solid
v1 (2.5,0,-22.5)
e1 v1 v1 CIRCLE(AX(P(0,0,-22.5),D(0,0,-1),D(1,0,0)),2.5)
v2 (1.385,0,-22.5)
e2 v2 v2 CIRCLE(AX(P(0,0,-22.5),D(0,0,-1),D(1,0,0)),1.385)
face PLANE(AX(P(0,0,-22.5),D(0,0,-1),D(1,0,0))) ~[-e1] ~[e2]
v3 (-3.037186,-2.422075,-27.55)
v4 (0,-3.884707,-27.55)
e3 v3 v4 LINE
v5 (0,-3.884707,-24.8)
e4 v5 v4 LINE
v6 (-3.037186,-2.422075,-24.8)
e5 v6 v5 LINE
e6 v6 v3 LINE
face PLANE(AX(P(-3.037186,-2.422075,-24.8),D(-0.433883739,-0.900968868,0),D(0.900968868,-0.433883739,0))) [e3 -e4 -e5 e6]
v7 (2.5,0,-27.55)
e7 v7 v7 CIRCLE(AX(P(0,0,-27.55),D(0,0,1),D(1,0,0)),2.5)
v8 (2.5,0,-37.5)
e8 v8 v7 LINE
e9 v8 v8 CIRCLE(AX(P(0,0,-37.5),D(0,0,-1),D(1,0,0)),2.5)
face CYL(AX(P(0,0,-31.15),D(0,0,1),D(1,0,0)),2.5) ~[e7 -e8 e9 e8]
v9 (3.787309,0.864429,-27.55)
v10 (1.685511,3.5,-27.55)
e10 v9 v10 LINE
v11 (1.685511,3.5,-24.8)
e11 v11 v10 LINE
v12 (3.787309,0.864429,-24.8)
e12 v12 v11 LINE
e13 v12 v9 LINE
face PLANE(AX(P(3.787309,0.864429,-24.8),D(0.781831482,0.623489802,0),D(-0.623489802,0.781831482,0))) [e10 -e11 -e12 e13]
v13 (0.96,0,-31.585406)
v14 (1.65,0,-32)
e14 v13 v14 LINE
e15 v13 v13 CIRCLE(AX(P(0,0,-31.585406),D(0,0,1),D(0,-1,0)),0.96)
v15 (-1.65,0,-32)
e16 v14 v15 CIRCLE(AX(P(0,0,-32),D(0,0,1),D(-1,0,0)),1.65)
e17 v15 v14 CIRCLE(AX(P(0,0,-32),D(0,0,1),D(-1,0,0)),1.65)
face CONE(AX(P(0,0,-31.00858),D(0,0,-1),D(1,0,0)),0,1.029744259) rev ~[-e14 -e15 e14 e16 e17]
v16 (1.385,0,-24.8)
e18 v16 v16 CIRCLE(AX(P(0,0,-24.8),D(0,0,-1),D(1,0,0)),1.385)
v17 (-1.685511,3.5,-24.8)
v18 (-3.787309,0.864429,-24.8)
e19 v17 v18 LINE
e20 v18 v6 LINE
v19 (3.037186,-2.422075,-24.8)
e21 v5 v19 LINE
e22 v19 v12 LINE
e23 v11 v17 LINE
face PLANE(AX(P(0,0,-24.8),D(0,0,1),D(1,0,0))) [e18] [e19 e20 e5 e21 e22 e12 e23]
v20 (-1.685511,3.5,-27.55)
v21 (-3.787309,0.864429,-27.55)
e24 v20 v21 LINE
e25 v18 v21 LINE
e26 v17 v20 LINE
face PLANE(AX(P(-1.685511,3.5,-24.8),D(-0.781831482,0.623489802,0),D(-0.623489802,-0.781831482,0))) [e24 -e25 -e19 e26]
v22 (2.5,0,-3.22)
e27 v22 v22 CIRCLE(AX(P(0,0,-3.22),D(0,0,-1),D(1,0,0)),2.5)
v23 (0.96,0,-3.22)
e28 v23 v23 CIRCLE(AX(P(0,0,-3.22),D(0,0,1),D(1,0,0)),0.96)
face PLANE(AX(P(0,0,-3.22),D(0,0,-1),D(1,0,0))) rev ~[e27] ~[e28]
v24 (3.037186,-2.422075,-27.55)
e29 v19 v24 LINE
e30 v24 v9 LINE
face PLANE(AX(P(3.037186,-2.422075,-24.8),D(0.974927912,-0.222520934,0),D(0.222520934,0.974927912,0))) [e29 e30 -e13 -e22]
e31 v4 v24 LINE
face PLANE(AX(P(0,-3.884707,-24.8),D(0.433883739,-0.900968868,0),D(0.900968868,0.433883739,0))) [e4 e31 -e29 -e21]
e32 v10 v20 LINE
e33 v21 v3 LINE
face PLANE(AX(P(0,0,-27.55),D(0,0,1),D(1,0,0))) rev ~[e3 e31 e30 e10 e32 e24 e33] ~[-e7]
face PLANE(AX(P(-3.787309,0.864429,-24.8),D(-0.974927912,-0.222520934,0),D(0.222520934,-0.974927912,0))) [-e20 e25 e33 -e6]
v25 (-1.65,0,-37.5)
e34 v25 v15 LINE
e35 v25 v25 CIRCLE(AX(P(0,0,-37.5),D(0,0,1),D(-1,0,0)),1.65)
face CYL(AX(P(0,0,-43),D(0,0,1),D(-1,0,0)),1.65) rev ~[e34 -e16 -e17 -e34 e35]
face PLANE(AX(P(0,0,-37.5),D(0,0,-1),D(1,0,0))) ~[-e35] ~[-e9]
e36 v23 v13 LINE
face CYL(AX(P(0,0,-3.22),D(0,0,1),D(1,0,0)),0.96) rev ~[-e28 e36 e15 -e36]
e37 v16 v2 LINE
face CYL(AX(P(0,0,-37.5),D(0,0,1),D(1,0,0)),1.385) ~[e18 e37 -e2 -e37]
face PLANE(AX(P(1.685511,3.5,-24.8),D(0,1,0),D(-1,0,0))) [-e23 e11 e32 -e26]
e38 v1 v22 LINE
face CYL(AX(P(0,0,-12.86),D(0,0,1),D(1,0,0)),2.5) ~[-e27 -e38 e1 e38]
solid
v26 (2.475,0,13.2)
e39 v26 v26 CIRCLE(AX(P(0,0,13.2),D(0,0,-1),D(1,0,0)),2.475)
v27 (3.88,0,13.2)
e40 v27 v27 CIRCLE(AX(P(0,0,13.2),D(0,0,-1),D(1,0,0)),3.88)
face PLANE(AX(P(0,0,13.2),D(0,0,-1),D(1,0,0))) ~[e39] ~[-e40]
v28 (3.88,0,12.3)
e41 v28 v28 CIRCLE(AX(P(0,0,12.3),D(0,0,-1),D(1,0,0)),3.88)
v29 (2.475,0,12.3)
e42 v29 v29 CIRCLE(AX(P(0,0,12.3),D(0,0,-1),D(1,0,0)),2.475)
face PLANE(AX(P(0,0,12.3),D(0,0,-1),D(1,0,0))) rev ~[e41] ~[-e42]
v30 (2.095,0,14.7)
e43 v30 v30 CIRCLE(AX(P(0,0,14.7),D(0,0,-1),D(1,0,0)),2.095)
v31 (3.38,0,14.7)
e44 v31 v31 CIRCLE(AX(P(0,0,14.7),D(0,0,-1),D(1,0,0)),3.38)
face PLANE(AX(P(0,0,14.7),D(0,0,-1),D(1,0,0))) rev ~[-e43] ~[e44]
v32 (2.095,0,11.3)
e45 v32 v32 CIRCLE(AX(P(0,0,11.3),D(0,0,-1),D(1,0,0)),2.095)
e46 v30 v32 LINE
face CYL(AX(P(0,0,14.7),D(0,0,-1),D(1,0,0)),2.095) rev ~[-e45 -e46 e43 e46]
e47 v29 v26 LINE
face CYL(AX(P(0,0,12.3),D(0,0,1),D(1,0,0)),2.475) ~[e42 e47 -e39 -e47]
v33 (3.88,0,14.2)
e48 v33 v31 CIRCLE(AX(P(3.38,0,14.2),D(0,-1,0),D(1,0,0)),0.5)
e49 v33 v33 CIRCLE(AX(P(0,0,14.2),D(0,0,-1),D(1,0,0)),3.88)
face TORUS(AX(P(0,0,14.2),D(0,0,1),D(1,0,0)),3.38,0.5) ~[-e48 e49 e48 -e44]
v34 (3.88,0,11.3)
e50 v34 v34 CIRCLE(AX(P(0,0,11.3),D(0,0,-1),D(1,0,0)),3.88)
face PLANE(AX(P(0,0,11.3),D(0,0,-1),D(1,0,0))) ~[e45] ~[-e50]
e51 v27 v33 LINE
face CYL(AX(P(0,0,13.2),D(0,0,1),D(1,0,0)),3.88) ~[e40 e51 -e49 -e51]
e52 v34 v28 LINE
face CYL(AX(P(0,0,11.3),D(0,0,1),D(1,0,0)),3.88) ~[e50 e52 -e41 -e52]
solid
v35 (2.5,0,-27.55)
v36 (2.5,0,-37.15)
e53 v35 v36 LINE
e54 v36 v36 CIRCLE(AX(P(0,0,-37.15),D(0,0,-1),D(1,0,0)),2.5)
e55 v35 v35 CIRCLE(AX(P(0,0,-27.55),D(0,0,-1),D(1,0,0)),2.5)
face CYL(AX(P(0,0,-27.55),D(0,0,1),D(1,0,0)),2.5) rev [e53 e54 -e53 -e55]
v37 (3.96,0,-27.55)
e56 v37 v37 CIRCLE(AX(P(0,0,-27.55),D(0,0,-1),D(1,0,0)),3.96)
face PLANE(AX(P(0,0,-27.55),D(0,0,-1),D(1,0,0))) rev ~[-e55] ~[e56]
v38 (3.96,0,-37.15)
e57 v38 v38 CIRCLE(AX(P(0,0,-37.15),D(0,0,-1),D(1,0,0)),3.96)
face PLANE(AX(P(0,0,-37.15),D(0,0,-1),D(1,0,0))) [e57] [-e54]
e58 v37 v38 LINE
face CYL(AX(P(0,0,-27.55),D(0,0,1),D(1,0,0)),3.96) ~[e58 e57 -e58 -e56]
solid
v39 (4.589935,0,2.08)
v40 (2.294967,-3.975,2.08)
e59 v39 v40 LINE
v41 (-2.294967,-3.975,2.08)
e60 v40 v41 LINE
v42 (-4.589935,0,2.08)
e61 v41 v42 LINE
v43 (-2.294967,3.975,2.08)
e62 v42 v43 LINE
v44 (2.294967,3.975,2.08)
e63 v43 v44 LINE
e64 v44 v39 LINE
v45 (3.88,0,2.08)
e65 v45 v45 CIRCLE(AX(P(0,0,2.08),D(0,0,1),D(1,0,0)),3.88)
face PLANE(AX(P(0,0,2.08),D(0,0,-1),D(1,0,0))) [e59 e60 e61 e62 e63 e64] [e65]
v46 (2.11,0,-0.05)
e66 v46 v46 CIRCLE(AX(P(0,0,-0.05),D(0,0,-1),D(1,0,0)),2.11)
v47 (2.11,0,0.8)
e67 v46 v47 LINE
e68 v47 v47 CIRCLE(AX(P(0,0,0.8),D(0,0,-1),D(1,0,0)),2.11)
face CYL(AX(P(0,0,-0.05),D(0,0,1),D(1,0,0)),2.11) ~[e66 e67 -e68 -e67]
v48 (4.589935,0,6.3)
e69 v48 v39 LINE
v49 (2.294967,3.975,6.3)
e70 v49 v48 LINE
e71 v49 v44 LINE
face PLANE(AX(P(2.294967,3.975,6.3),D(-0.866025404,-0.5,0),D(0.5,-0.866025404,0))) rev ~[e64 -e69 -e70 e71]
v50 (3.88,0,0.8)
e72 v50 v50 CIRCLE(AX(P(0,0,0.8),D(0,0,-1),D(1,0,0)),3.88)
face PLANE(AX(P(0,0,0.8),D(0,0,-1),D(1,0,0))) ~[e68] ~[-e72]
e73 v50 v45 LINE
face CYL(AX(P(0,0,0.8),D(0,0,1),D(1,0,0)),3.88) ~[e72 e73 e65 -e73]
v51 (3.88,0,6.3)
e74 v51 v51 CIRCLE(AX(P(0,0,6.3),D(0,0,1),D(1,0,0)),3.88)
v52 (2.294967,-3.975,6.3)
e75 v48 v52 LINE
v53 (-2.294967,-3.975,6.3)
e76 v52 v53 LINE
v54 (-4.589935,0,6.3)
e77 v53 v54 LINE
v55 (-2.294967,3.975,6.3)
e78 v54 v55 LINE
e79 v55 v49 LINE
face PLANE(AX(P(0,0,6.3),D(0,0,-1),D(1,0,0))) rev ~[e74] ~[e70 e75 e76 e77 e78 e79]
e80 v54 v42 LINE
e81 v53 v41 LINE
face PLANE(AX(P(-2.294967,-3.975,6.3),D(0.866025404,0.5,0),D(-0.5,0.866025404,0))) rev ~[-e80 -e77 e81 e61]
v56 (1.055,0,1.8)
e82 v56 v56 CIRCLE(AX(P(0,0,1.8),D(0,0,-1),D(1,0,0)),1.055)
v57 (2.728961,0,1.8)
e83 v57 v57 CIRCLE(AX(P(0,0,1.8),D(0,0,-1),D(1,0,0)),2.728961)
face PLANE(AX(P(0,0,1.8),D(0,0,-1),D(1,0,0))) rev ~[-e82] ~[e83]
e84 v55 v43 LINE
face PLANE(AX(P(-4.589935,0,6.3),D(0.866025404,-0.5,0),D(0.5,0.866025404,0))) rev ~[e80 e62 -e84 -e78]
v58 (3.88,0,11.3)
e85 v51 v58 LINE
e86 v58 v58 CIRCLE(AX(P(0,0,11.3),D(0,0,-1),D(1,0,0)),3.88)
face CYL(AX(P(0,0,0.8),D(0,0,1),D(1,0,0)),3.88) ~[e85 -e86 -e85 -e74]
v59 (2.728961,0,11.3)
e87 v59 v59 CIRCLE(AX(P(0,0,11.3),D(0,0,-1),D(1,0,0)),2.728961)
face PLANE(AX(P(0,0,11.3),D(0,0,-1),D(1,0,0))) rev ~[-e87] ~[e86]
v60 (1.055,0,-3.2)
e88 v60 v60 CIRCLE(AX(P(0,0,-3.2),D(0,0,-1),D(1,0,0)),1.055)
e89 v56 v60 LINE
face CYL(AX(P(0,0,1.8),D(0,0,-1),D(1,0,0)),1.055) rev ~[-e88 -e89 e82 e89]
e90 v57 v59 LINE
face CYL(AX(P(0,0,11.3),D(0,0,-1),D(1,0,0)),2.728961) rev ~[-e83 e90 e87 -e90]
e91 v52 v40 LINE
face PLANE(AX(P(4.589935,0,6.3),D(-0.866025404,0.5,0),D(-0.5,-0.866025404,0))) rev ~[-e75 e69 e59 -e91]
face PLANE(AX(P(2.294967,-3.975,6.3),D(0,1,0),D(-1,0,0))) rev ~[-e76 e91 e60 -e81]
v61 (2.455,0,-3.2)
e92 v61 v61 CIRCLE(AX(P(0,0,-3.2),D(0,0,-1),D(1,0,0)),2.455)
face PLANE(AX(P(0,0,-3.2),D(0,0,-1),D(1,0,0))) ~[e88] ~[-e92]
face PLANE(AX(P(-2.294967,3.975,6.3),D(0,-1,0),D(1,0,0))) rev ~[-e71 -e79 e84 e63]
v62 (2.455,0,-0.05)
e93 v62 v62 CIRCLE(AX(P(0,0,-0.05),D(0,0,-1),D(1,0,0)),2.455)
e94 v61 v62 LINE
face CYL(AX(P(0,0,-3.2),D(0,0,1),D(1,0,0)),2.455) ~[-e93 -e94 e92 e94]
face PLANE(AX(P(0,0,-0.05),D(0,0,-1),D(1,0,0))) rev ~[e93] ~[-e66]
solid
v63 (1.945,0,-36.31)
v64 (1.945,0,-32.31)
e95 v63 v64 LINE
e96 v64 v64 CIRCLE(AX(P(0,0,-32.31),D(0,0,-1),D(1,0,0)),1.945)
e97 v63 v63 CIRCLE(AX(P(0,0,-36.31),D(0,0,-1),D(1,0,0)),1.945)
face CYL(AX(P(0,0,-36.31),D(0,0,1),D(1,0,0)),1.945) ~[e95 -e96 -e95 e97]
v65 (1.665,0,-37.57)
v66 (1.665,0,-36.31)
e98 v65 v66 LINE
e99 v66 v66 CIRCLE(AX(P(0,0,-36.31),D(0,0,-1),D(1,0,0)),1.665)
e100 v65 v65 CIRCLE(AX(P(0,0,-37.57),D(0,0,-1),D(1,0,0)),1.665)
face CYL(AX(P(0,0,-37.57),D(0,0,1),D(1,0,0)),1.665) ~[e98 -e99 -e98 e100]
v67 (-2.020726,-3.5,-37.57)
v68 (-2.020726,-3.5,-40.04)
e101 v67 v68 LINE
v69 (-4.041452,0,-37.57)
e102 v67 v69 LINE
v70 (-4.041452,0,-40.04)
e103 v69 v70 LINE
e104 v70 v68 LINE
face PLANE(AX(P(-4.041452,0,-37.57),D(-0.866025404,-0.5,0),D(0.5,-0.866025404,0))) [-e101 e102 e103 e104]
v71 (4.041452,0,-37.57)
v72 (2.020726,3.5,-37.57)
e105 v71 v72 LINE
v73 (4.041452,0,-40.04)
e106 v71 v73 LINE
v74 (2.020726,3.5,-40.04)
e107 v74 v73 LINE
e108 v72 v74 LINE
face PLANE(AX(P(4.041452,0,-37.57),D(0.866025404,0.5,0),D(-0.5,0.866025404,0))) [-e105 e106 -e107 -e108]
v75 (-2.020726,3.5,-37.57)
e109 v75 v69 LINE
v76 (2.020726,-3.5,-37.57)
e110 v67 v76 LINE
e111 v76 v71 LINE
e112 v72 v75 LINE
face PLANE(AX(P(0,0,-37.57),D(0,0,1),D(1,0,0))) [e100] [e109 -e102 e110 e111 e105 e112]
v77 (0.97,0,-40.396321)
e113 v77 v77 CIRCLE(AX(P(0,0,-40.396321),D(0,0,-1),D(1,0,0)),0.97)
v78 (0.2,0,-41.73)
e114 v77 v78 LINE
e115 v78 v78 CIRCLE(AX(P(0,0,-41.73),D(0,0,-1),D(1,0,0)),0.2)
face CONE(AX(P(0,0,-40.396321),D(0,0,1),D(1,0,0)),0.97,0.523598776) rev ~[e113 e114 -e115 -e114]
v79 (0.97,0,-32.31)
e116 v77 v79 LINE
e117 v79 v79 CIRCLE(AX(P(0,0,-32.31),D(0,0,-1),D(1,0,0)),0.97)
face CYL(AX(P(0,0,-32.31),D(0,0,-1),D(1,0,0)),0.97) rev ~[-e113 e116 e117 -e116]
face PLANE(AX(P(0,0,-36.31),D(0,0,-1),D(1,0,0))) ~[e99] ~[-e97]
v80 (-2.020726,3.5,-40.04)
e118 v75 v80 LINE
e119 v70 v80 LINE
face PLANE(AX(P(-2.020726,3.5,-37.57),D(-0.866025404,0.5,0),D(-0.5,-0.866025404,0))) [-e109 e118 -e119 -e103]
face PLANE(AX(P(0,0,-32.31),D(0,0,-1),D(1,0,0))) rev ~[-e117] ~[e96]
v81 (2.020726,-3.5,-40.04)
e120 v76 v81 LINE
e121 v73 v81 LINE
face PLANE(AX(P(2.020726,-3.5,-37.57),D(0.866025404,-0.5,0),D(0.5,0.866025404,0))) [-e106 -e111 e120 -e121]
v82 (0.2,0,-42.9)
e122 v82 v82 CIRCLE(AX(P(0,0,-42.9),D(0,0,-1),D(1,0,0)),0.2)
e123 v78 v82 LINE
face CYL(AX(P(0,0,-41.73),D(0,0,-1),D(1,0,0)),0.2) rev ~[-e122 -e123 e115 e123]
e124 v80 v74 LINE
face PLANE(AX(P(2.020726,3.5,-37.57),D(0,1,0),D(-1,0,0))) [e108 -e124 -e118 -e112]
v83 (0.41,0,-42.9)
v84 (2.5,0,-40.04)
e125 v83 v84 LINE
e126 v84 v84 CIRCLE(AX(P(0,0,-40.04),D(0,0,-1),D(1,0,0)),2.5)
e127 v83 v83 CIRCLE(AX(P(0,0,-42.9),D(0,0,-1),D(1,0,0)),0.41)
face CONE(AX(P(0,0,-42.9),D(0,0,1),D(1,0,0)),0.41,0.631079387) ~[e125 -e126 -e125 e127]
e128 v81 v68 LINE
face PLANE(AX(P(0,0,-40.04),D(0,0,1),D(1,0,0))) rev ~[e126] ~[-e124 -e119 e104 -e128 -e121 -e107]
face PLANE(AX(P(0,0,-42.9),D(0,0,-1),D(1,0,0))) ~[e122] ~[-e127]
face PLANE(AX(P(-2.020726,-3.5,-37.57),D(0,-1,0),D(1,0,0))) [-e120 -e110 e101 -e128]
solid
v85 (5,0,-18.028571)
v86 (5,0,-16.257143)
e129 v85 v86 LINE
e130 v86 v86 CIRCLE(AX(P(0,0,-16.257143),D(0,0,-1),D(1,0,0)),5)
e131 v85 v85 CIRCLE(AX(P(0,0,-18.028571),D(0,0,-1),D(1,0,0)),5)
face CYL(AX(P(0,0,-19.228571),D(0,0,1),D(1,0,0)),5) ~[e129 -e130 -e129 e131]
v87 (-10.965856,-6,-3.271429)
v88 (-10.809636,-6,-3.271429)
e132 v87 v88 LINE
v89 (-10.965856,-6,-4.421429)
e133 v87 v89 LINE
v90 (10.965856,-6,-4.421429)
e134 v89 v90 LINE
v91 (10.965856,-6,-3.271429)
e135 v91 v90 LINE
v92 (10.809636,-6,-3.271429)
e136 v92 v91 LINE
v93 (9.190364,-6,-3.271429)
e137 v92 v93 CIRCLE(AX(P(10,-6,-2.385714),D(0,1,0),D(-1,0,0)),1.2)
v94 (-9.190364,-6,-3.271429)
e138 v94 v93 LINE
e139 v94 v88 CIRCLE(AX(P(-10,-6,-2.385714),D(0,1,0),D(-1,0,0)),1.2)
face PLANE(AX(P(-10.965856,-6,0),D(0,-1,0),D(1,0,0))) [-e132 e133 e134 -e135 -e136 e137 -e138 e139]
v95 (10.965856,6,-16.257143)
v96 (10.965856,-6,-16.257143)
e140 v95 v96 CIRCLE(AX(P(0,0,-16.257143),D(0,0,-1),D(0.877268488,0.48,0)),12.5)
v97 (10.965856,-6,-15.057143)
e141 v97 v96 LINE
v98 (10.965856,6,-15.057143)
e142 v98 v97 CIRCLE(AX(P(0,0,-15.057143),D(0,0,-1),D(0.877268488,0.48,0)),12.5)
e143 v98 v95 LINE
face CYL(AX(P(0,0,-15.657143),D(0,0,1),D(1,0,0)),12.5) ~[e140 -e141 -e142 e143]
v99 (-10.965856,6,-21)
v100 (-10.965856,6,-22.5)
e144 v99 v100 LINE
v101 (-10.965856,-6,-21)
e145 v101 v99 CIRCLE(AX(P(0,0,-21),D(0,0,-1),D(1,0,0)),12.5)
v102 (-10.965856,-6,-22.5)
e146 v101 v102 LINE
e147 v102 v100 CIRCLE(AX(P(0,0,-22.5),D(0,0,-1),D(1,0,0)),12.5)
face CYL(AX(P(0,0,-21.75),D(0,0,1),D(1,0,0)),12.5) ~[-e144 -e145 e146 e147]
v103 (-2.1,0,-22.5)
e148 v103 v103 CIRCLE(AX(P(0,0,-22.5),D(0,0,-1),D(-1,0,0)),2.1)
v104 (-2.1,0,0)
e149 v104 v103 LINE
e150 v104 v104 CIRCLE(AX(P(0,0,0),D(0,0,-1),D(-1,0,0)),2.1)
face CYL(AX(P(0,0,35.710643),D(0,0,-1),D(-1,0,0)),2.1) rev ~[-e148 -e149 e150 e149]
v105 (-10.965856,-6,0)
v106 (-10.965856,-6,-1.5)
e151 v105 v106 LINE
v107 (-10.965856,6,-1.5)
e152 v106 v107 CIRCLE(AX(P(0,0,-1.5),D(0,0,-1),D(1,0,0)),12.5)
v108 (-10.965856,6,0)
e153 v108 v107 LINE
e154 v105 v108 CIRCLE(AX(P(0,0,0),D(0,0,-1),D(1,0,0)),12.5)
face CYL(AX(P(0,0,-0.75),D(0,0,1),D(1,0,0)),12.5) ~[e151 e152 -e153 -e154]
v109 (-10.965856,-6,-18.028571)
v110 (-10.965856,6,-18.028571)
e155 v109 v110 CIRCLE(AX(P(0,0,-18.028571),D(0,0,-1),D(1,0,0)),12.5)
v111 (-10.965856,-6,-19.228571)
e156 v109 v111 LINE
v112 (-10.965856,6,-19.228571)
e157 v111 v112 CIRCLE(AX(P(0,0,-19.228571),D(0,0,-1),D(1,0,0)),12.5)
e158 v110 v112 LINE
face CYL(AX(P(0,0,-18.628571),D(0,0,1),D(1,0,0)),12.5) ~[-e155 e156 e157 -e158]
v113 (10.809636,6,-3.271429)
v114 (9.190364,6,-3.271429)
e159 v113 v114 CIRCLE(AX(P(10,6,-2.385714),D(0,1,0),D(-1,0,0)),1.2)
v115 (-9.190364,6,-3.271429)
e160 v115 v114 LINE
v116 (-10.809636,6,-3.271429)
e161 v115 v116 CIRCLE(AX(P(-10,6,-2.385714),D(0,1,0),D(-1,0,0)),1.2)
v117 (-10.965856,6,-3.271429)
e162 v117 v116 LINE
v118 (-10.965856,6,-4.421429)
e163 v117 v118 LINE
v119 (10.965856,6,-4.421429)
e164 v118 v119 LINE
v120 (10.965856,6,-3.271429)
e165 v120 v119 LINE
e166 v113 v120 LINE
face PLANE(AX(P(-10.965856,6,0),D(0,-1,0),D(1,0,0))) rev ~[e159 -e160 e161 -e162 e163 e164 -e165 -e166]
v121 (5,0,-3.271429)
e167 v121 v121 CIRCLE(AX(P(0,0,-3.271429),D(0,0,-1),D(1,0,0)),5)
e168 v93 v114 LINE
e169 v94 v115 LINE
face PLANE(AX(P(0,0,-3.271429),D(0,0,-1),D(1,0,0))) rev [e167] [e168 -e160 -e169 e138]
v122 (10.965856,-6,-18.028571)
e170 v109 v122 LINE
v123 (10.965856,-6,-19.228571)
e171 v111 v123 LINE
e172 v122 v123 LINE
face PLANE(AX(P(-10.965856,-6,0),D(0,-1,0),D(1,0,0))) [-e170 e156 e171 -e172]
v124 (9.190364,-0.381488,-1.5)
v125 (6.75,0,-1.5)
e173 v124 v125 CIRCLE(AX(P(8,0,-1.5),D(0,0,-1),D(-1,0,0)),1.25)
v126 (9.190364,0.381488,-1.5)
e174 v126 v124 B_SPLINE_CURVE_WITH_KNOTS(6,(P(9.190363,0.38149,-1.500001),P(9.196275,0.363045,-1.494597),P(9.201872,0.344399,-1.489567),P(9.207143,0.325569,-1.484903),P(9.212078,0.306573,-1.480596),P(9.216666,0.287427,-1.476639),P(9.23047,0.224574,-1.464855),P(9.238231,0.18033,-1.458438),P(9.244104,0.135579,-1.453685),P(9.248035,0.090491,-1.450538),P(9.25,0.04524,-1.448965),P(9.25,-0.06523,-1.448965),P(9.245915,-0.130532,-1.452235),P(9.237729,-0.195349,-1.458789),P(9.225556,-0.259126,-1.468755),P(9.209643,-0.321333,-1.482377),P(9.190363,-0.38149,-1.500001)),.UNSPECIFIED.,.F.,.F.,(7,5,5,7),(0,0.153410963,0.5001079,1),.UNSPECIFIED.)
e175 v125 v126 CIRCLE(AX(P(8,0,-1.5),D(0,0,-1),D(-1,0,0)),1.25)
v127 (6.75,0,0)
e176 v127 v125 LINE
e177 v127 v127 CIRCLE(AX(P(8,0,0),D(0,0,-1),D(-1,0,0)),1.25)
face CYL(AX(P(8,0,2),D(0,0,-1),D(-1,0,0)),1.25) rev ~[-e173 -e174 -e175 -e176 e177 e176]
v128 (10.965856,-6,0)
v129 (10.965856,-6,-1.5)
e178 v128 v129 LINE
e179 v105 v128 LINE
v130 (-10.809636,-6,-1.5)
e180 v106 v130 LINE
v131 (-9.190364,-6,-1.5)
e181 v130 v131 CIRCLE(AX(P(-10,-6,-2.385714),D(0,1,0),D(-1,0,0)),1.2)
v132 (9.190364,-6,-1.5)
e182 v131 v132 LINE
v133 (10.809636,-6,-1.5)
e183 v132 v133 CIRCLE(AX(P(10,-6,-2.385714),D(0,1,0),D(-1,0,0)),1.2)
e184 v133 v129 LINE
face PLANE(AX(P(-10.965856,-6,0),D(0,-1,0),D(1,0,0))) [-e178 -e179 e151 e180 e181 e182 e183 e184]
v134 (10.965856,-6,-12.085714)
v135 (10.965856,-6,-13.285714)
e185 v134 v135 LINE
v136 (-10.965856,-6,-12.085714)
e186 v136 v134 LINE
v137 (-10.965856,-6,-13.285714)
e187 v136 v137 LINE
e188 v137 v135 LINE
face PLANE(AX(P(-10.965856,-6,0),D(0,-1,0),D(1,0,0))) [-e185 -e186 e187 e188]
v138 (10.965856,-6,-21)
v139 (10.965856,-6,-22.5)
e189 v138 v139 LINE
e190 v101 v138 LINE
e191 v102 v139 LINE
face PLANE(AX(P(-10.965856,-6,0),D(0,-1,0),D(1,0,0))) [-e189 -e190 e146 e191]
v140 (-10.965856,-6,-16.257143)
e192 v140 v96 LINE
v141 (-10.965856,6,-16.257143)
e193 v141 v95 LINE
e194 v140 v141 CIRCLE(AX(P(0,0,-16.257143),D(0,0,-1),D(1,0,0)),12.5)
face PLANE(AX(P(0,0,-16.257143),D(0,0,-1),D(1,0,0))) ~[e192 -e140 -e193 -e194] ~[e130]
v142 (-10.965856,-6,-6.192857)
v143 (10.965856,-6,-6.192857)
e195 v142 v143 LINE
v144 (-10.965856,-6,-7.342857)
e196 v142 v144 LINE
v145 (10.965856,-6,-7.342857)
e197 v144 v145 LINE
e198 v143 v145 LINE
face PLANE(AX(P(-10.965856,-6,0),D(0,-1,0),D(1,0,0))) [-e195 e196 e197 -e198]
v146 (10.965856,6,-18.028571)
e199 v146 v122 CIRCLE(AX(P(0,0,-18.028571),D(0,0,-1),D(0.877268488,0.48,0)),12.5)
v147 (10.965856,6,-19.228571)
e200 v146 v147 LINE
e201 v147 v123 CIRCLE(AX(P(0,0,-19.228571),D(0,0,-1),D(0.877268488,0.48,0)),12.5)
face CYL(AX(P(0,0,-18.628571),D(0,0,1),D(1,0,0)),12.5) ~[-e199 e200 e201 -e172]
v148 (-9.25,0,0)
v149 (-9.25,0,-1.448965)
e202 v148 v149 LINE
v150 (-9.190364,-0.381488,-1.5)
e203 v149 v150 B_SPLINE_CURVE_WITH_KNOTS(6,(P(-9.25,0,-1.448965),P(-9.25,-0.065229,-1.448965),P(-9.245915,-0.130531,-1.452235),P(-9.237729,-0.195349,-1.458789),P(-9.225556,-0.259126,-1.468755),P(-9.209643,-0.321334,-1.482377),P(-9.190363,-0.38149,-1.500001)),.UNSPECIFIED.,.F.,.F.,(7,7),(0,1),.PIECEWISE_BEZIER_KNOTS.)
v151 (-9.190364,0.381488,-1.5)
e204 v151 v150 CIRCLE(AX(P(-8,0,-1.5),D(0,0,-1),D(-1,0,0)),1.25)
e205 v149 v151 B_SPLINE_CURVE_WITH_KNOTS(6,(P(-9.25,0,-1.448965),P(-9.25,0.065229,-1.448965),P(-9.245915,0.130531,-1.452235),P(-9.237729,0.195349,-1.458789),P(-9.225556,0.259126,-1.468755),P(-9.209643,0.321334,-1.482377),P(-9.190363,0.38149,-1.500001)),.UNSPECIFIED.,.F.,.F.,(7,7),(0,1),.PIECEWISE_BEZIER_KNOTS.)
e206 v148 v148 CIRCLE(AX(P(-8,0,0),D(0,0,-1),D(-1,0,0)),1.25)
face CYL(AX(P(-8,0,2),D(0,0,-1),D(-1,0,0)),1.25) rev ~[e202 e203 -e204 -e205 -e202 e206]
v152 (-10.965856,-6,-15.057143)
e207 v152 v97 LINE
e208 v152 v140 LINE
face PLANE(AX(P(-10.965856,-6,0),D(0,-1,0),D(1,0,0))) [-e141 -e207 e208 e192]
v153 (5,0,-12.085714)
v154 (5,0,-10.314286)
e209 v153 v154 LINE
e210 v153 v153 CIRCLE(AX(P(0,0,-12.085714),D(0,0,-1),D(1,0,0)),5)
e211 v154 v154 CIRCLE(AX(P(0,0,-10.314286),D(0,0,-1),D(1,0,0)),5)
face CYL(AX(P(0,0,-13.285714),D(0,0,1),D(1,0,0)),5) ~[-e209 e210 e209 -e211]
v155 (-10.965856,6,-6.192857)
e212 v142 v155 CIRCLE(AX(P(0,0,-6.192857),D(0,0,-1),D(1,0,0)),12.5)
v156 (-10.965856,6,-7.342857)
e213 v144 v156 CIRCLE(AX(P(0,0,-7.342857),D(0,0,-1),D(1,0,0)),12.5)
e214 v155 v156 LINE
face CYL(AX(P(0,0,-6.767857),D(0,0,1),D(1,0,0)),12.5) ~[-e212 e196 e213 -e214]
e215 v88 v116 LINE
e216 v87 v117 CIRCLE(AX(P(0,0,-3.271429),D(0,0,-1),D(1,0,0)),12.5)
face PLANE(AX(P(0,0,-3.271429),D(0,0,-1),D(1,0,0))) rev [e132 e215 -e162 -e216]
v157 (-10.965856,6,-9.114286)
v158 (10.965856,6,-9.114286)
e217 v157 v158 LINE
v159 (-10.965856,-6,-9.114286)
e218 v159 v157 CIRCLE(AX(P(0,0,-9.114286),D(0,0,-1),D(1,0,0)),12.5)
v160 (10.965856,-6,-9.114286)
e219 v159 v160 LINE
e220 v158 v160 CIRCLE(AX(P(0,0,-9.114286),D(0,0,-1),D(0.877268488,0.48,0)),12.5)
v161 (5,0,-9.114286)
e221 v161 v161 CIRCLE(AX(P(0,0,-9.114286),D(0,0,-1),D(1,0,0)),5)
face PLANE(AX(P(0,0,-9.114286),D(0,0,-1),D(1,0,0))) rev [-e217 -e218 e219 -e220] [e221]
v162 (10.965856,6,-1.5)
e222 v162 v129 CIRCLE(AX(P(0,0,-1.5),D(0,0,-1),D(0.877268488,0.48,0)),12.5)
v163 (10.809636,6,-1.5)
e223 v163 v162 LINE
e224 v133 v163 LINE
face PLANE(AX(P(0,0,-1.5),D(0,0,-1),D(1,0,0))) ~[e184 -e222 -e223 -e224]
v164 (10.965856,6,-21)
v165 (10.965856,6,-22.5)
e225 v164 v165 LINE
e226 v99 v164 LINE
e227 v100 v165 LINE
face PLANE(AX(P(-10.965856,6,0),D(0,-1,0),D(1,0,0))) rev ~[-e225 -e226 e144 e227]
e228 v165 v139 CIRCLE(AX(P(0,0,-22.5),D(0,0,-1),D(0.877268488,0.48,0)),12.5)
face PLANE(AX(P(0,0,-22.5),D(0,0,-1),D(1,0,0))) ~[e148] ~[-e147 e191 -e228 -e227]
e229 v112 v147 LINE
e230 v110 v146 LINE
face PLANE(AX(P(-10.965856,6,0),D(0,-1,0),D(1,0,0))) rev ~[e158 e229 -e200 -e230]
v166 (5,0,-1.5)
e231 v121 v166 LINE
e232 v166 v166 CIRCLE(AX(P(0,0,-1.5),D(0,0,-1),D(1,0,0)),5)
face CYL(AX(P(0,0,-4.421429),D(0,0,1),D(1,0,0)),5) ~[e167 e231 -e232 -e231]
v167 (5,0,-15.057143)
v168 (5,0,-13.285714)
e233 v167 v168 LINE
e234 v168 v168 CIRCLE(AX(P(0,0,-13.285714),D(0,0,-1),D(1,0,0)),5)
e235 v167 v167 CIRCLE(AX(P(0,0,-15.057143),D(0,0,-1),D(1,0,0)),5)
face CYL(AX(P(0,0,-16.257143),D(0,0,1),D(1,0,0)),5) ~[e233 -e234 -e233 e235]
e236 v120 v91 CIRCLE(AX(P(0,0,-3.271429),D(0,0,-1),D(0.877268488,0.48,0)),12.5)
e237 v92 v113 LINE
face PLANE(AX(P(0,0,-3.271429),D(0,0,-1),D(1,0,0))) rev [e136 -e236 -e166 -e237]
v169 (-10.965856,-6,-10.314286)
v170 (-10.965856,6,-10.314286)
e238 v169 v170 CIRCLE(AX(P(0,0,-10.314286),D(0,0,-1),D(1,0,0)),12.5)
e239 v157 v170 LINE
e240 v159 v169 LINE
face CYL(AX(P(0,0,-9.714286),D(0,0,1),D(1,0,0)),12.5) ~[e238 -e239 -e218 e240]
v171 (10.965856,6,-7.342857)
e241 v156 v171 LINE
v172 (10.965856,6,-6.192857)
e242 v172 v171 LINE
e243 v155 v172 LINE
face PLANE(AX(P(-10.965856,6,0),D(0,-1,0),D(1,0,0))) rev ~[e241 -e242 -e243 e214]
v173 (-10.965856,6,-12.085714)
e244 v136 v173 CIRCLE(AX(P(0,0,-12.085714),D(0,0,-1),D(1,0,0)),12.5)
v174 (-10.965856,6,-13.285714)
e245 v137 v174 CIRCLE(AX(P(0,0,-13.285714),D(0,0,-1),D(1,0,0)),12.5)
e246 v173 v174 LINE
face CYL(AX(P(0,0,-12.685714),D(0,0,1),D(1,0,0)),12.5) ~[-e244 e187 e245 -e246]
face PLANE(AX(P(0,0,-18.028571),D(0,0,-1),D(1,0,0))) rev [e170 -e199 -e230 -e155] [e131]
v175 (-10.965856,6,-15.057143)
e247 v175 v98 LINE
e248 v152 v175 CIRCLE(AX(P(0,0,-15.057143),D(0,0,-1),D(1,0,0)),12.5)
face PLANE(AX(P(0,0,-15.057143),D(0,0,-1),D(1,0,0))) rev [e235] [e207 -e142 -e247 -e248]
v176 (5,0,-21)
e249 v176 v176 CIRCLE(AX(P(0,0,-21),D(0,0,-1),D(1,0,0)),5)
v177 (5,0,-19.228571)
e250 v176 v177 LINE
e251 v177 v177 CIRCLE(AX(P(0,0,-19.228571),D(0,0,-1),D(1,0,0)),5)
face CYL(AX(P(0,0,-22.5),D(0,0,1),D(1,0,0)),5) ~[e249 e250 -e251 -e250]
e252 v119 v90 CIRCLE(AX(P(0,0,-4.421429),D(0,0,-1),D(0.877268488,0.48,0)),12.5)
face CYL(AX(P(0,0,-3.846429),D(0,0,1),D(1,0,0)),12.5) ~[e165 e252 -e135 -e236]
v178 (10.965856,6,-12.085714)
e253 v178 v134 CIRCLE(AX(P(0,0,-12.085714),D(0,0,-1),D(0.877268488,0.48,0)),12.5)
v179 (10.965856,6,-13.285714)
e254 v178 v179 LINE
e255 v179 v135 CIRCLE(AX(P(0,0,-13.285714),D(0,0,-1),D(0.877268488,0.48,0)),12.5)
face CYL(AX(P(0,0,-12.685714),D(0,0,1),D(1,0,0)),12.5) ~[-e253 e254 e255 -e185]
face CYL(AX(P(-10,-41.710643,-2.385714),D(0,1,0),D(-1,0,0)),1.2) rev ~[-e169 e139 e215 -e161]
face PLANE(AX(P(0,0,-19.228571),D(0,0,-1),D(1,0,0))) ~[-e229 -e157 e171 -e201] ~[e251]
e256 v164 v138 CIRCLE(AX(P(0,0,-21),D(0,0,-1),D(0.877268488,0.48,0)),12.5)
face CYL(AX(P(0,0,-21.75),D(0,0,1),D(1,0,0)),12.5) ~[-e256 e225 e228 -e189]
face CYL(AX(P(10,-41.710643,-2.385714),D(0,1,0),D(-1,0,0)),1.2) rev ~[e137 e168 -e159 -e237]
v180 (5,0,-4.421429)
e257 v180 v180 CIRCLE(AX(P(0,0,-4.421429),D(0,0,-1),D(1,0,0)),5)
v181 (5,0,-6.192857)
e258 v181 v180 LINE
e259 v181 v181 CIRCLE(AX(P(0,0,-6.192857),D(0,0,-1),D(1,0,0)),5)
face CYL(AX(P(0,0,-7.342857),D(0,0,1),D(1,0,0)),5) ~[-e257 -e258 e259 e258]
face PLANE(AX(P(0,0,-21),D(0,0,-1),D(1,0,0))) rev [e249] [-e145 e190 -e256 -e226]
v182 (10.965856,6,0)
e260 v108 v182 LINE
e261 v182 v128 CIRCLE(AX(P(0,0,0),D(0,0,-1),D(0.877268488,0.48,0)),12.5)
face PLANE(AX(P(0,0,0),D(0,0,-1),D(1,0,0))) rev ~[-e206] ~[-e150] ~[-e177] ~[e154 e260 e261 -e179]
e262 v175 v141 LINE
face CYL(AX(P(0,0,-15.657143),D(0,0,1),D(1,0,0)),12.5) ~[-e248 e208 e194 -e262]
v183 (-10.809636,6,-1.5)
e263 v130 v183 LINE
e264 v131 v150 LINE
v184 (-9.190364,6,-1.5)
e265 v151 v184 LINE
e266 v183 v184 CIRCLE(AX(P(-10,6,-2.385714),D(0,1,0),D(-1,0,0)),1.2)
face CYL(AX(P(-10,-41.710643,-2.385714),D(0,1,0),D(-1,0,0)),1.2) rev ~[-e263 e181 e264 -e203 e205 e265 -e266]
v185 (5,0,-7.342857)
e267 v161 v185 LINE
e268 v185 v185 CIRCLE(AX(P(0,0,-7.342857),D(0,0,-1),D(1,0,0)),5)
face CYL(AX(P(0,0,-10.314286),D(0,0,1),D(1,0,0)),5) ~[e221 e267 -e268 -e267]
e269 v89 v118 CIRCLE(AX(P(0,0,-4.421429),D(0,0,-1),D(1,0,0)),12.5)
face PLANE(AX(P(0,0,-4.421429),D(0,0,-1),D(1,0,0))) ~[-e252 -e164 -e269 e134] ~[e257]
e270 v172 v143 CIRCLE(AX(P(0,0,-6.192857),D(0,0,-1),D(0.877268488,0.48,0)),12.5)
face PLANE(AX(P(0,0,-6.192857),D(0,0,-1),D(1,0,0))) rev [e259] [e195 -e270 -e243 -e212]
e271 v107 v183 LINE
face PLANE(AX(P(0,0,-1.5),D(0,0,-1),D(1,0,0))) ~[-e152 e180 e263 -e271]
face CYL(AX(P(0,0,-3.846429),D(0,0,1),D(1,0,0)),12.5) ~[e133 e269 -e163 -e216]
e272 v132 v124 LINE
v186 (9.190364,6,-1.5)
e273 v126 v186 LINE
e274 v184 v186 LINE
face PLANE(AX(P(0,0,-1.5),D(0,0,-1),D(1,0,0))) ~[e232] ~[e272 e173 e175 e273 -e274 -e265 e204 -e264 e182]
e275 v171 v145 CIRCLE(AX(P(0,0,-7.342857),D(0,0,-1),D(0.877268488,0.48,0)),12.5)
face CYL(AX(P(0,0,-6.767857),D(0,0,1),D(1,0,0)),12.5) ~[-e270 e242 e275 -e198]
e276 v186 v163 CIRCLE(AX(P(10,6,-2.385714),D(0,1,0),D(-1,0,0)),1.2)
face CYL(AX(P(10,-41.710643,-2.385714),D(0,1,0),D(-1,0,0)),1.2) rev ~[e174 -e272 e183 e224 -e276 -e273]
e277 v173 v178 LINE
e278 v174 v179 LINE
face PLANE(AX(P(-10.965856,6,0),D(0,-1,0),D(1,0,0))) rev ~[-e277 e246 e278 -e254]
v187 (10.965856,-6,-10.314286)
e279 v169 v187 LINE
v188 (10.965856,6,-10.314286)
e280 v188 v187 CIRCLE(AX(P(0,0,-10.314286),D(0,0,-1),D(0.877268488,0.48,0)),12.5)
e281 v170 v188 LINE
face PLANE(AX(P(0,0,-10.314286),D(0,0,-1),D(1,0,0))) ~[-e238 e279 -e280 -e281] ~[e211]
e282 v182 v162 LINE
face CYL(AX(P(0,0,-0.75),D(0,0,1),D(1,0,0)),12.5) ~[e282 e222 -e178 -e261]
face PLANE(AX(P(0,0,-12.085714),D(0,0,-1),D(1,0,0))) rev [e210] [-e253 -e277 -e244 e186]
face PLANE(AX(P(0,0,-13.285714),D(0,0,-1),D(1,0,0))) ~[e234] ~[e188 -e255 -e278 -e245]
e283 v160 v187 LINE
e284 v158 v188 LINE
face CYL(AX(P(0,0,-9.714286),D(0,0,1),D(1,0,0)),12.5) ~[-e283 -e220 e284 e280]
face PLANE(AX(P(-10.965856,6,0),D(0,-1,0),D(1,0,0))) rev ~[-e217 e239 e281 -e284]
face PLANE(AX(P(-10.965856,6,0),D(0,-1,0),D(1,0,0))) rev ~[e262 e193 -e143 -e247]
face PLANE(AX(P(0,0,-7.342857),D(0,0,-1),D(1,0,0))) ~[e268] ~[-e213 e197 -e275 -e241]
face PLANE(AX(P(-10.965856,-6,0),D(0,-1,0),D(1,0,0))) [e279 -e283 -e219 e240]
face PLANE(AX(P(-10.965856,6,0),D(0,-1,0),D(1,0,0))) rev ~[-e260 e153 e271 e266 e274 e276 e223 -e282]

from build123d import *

# Parameters (mm, degrees)
F0_W      = 5
F0_H      = 1.5
F0_W_2    = 7.5
F0_H_2    = 1.7714285714
F0_H_3    = 1.15
F0_H_4    = 1.2
F2_W      = 21.9317121995
F2_H      = 6.5
F3_DEPTH  = 22.501
F5_D      = 4.2
F6_D      = 2.5
F6_DEPTH  = 2
F6_TIP    = 0.7510757738
F7_W      = 1.385
F7_H      = 19.28
F7_W_2    = 1.115
F7_H_2    = 2.3
F7_H_3    = 12.7
F10_DEPTH = 2.75
F12_D     = 3.3
F12_DEPTH = 5.5
F12_TIP   = 0.9914200214
F13_R     = 0.96
F14_DEPTH = 34.281
F15_R     = 3.96
F15_R_2   = 2.5
F16_DEPTH = 9.6
F19_R     = 0.97
F20_DEPTH = 2.47
F24_R     = 2.7289614246
F25_DEPTH = 4.22
F27_D     = 2.4


with BuildPart() as f1:
    # F0 (on Front) → F1 (revolve)
    with BuildSketch(Plane.XZ):
        with Locations((2.5, -0.75)):
            Rectangle(F0_W, F0_H)
        with Locations((8.75, -0.75)):
            Rectangle(F0_W_2, F0_H)
        with Locations((2.5, -2.3857142857)):
            Rectangle(F0_W, F0_H_2)
        with Locations((2.5, -3.8464285714)):
            Rectangle(F0_W, F0_H_3)
        with Locations((8.75, -3.8464285714)):
            Rectangle(F0_W_2, F0_H_3)
        with Locations((2.5, -5.3071428571)):
            Rectangle(F0_W, F0_H_2)
        with Locations((2.5, -6.7678571429)):
            Rectangle(F0_W, F0_H_3)
        with Locations((8.75, -6.7678571429)):
            Rectangle(F0_W_2, F0_H_3)
        with Locations((2.5, -8.2285714286)):
            Rectangle(F0_W, F0_H_2)
        with Locations((2.5, -9.7142857143)):
            Rectangle(F0_W, F0_H_4)
        with Locations((8.75, -9.7142857143)):
            Rectangle(F0_W_2, F0_H_4)
        with Locations((2.5, -11.2)):
            Rectangle(F0_W, F0_H_2)
        with Locations((2.5, -12.6857142857)):
            Rectangle(F0_W, F0_H_4)
        with Locations((8.75, -12.6857142857)):
            Rectangle(F0_W_2, F0_H_4)
        with Locations((2.5, -14.1714285714)):
            Rectangle(F0_W, F0_H_2)
        with Locations((2.5, -15.6571428571)):
            Rectangle(F0_W, F0_H_4)
        with Locations((8.75, -15.6571428571)):
            Rectangle(F0_W_2, F0_H_4)
        with Locations((2.5, -17.1428571429)):
            Rectangle(F0_W, F0_H_2)
        with Locations((2.5, -18.6285714286)):
            Rectangle(F0_W, F0_H_4)
        with Locations((8.75, -18.6285714286)):
            Rectangle(F0_W_2, F0_H_4)
        with Locations((2.5, -20.1142857143)):
            Rectangle(F0_W, F0_H_2)
        with Locations((2.5, -21.75)):
            Rectangle(F0_W, F0_H)
        with Locations((8.75, -21.75)):
            Rectangle(F0_W_2, F0_H)
    revolve(axis=Axis((0, 0, -15.0359268821), (0, 0, -1)))

    # F2 (on Top) → F3 (cut, through all)
    with BuildSketch(Plane.XY):
        with Locations((0, -9.25)):
            Rectangle(F2_W, F2_H)
        with Locations((0, 9.25)):
            Rectangle(F2_W, F2_H)
    extrude(amount=-F3_DEPTH, mode=Mode.SUBTRACT)

    # F5 (through all)
    with Locations(Plane.XY):
        with Locations((0, 0)):
            Hole(F5_D / 2)

    # F6
    with Locations(Plane.XY):
        with Locations((-8, 0), (8, 0)):
            Hole(F6_D / 2, depth=F6_DEPTH)
            with Locations((0, 0, -(F6_DEPTH + F6_TIP / 2))):  # 118° drill point
                Cone(0, F6_D / 2, F6_TIP, mode=Mode.SUBTRACT)

    # F27 (through all)
    with Locations(Plane.XZ.offset(6)):
        with Locations((-10, -2.3857142857), (10, -2.3857142857)):
            Hole(F27_D / 2)


with BuildPart() as f8:
    # F7 (on Front) → F8 (revolve)
    with BuildSketch(Plane.XZ):
        with Locations((0.6925, -12.86)):
            Rectangle(F7_W, F7_H)
        with Locations((1.9425, -12.86)):
            Rectangle(F7_W_2, F7_H)
        with Locations((0.6925, -23.65)):
            Rectangle(F7_W, F7_H_2)
        with Locations((0.6925, -31.15)):
            Rectangle(F7_W, F7_H_3)
        with Locations((1.9425, -31.15)):
            Rectangle(F7_W_2, F7_H_3)
    revolve(axis=Axis((0, 0, -14.0211293474), (0, 0, -1)))

    # F9 (on face) → F10 (join)
    with BuildSketch(Plane.XY.offset(-24.8)):
        Polygon((3.7873092114, 0.864428613), (1.6855111658, 3.5), (-1.6855111658, 3.5), (-3.7873092114, 0.864428613), (-3.0371861738, -2.4220751507), (0, -3.8847069246), (3.0371861738, -2.4220751507), align=None)
    extrude(amount=-F10_DEPTH)

    # F12
    with Locations(Plane(origin=(0, 0, -37.5), x_dir=(1, 0, 0), z_dir=(0, 0, -1))):
        with Locations((0, 0)):
            Hole(F12_D / 2, depth=F12_DEPTH)
            with Locations((0, 0, -(F12_DEPTH + F12_TIP / 2))):  # 118° drill point
                Cone(0, F12_D / 2, F12_TIP, mode=Mode.SUBTRACT)

    # F13 (on face) → F14 (cut, through all)
    with BuildSketch(Plane.XY.offset(-3.22)):
        Circle(F13_R)
    extrude(amount=-F14_DEPTH, mode=Mode.SUBTRACT)


with BuildPart() as f16:
    # F15 (on face) → F16 (new body)
    with BuildSketch(Plane(origin=(0, 0, -27.55), x_dir=(1, 0, 0), z_dir=(0, 0, -1))):
        Circle(F15_R)
        Circle(F15_R_2, mode=Mode.SUBTRACT)
    extrude(amount=F16_DEPTH)


with BuildPart() as f18:
    # F17 (on Front) → F18 (revolve)
    with BuildSketch(Plane.XZ):
        Polygon((1.945, -32.31), (0.97, -32.31), (0.97, -40.3963208782), (0.2, -41.73), (0.2, -42.9), (0.41, -42.9), (2.5, -40.04), (3.5, -40.04), (3.5, -37.57), (1.665, -37.57), (1.665, -36.31), (1.945, -36.31), align=None)
    revolve(axis=Axis((0, 0, -20.0307343887), (0, 0, -1)))

    # F19 (on face) → F20 (join, through all)
    with BuildSketch(Plane.XY.offset(-37.57)):
        Polygon((-4.0414518843, 0), (-2.0207259422, -3.5), (2.0207259422, -3.5), (4.0414518843, 0), (2.0207259422, 3.5), (-2.0207259422, 3.5), align=None)
        Circle(F19_R, mode=Mode.SUBTRACT)
    extrude(amount=-F20_DEPTH)


with BuildPart() as f22:
    # F21 (on Front) → F22 (revolve)
    with BuildSketch(Plane.XZ):
        Polygon((3.88, 11.3), (2.7289614246, 11.3), (2.7289614246, 1.8), (1.055, 1.8), (1.055, -3.2), (2.455, -3.2), (2.455, -0.05), (2.11, -0.05), (2.11, 0.8), (3.88, 0.8), align=None)
    revolve(axis=Axis((0, 0, -6.213388286), (0, 0, -1)))

    # F24 (on offset) → F25 (join)
    with BuildSketch(Plane(origin=(0, 0, 6.3), x_dir=(1, 0, 0), z_dir=(0, 0, -1))):
        Polygon((-4.5899346401, 0), (-2.29496732, -3.975), (2.29496732, -3.975), (4.5899346401, 0), (2.29496732, 3.975), (-2.29496732, 3.975), align=None)
        Circle(F24_R, mode=Mode.SUBTRACT)
    extrude(amount=F25_DEPTH)


with BuildPart() as f29:
    # F28 (on Front) → F29 (revolve)
    with BuildSketch(Plane.XZ):
        with BuildLine():
            Line((3.88, 11.3), (3.88, 12.3))
            Line((3.88, 12.3), (2.475, 12.3))
            Line((2.475, 12.3), (2.475, 13.2))
            Line((2.475, 13.2), (3.88, 13.2))
            Line((3.88, 13.2), (3.88, 14.2))
            ThreePointArc((3.88, 14.2), (3.7335533906, 14.5535533906), (3.38, 14.7))
            Line((3.38, 14.7), (2.095, 14.7))
            Line((2.095, 14.7), (2.095, 11.3))
            Line((2.095, 11.3), (3.88, 11.3))
        make_face()
    revolve(axis=Axis((0, 0, -6.213388286), (0, 0, -1)))


solid = Compound([f1.part, f8.part, f16.part, f18.part, f22.part, f29.part])
